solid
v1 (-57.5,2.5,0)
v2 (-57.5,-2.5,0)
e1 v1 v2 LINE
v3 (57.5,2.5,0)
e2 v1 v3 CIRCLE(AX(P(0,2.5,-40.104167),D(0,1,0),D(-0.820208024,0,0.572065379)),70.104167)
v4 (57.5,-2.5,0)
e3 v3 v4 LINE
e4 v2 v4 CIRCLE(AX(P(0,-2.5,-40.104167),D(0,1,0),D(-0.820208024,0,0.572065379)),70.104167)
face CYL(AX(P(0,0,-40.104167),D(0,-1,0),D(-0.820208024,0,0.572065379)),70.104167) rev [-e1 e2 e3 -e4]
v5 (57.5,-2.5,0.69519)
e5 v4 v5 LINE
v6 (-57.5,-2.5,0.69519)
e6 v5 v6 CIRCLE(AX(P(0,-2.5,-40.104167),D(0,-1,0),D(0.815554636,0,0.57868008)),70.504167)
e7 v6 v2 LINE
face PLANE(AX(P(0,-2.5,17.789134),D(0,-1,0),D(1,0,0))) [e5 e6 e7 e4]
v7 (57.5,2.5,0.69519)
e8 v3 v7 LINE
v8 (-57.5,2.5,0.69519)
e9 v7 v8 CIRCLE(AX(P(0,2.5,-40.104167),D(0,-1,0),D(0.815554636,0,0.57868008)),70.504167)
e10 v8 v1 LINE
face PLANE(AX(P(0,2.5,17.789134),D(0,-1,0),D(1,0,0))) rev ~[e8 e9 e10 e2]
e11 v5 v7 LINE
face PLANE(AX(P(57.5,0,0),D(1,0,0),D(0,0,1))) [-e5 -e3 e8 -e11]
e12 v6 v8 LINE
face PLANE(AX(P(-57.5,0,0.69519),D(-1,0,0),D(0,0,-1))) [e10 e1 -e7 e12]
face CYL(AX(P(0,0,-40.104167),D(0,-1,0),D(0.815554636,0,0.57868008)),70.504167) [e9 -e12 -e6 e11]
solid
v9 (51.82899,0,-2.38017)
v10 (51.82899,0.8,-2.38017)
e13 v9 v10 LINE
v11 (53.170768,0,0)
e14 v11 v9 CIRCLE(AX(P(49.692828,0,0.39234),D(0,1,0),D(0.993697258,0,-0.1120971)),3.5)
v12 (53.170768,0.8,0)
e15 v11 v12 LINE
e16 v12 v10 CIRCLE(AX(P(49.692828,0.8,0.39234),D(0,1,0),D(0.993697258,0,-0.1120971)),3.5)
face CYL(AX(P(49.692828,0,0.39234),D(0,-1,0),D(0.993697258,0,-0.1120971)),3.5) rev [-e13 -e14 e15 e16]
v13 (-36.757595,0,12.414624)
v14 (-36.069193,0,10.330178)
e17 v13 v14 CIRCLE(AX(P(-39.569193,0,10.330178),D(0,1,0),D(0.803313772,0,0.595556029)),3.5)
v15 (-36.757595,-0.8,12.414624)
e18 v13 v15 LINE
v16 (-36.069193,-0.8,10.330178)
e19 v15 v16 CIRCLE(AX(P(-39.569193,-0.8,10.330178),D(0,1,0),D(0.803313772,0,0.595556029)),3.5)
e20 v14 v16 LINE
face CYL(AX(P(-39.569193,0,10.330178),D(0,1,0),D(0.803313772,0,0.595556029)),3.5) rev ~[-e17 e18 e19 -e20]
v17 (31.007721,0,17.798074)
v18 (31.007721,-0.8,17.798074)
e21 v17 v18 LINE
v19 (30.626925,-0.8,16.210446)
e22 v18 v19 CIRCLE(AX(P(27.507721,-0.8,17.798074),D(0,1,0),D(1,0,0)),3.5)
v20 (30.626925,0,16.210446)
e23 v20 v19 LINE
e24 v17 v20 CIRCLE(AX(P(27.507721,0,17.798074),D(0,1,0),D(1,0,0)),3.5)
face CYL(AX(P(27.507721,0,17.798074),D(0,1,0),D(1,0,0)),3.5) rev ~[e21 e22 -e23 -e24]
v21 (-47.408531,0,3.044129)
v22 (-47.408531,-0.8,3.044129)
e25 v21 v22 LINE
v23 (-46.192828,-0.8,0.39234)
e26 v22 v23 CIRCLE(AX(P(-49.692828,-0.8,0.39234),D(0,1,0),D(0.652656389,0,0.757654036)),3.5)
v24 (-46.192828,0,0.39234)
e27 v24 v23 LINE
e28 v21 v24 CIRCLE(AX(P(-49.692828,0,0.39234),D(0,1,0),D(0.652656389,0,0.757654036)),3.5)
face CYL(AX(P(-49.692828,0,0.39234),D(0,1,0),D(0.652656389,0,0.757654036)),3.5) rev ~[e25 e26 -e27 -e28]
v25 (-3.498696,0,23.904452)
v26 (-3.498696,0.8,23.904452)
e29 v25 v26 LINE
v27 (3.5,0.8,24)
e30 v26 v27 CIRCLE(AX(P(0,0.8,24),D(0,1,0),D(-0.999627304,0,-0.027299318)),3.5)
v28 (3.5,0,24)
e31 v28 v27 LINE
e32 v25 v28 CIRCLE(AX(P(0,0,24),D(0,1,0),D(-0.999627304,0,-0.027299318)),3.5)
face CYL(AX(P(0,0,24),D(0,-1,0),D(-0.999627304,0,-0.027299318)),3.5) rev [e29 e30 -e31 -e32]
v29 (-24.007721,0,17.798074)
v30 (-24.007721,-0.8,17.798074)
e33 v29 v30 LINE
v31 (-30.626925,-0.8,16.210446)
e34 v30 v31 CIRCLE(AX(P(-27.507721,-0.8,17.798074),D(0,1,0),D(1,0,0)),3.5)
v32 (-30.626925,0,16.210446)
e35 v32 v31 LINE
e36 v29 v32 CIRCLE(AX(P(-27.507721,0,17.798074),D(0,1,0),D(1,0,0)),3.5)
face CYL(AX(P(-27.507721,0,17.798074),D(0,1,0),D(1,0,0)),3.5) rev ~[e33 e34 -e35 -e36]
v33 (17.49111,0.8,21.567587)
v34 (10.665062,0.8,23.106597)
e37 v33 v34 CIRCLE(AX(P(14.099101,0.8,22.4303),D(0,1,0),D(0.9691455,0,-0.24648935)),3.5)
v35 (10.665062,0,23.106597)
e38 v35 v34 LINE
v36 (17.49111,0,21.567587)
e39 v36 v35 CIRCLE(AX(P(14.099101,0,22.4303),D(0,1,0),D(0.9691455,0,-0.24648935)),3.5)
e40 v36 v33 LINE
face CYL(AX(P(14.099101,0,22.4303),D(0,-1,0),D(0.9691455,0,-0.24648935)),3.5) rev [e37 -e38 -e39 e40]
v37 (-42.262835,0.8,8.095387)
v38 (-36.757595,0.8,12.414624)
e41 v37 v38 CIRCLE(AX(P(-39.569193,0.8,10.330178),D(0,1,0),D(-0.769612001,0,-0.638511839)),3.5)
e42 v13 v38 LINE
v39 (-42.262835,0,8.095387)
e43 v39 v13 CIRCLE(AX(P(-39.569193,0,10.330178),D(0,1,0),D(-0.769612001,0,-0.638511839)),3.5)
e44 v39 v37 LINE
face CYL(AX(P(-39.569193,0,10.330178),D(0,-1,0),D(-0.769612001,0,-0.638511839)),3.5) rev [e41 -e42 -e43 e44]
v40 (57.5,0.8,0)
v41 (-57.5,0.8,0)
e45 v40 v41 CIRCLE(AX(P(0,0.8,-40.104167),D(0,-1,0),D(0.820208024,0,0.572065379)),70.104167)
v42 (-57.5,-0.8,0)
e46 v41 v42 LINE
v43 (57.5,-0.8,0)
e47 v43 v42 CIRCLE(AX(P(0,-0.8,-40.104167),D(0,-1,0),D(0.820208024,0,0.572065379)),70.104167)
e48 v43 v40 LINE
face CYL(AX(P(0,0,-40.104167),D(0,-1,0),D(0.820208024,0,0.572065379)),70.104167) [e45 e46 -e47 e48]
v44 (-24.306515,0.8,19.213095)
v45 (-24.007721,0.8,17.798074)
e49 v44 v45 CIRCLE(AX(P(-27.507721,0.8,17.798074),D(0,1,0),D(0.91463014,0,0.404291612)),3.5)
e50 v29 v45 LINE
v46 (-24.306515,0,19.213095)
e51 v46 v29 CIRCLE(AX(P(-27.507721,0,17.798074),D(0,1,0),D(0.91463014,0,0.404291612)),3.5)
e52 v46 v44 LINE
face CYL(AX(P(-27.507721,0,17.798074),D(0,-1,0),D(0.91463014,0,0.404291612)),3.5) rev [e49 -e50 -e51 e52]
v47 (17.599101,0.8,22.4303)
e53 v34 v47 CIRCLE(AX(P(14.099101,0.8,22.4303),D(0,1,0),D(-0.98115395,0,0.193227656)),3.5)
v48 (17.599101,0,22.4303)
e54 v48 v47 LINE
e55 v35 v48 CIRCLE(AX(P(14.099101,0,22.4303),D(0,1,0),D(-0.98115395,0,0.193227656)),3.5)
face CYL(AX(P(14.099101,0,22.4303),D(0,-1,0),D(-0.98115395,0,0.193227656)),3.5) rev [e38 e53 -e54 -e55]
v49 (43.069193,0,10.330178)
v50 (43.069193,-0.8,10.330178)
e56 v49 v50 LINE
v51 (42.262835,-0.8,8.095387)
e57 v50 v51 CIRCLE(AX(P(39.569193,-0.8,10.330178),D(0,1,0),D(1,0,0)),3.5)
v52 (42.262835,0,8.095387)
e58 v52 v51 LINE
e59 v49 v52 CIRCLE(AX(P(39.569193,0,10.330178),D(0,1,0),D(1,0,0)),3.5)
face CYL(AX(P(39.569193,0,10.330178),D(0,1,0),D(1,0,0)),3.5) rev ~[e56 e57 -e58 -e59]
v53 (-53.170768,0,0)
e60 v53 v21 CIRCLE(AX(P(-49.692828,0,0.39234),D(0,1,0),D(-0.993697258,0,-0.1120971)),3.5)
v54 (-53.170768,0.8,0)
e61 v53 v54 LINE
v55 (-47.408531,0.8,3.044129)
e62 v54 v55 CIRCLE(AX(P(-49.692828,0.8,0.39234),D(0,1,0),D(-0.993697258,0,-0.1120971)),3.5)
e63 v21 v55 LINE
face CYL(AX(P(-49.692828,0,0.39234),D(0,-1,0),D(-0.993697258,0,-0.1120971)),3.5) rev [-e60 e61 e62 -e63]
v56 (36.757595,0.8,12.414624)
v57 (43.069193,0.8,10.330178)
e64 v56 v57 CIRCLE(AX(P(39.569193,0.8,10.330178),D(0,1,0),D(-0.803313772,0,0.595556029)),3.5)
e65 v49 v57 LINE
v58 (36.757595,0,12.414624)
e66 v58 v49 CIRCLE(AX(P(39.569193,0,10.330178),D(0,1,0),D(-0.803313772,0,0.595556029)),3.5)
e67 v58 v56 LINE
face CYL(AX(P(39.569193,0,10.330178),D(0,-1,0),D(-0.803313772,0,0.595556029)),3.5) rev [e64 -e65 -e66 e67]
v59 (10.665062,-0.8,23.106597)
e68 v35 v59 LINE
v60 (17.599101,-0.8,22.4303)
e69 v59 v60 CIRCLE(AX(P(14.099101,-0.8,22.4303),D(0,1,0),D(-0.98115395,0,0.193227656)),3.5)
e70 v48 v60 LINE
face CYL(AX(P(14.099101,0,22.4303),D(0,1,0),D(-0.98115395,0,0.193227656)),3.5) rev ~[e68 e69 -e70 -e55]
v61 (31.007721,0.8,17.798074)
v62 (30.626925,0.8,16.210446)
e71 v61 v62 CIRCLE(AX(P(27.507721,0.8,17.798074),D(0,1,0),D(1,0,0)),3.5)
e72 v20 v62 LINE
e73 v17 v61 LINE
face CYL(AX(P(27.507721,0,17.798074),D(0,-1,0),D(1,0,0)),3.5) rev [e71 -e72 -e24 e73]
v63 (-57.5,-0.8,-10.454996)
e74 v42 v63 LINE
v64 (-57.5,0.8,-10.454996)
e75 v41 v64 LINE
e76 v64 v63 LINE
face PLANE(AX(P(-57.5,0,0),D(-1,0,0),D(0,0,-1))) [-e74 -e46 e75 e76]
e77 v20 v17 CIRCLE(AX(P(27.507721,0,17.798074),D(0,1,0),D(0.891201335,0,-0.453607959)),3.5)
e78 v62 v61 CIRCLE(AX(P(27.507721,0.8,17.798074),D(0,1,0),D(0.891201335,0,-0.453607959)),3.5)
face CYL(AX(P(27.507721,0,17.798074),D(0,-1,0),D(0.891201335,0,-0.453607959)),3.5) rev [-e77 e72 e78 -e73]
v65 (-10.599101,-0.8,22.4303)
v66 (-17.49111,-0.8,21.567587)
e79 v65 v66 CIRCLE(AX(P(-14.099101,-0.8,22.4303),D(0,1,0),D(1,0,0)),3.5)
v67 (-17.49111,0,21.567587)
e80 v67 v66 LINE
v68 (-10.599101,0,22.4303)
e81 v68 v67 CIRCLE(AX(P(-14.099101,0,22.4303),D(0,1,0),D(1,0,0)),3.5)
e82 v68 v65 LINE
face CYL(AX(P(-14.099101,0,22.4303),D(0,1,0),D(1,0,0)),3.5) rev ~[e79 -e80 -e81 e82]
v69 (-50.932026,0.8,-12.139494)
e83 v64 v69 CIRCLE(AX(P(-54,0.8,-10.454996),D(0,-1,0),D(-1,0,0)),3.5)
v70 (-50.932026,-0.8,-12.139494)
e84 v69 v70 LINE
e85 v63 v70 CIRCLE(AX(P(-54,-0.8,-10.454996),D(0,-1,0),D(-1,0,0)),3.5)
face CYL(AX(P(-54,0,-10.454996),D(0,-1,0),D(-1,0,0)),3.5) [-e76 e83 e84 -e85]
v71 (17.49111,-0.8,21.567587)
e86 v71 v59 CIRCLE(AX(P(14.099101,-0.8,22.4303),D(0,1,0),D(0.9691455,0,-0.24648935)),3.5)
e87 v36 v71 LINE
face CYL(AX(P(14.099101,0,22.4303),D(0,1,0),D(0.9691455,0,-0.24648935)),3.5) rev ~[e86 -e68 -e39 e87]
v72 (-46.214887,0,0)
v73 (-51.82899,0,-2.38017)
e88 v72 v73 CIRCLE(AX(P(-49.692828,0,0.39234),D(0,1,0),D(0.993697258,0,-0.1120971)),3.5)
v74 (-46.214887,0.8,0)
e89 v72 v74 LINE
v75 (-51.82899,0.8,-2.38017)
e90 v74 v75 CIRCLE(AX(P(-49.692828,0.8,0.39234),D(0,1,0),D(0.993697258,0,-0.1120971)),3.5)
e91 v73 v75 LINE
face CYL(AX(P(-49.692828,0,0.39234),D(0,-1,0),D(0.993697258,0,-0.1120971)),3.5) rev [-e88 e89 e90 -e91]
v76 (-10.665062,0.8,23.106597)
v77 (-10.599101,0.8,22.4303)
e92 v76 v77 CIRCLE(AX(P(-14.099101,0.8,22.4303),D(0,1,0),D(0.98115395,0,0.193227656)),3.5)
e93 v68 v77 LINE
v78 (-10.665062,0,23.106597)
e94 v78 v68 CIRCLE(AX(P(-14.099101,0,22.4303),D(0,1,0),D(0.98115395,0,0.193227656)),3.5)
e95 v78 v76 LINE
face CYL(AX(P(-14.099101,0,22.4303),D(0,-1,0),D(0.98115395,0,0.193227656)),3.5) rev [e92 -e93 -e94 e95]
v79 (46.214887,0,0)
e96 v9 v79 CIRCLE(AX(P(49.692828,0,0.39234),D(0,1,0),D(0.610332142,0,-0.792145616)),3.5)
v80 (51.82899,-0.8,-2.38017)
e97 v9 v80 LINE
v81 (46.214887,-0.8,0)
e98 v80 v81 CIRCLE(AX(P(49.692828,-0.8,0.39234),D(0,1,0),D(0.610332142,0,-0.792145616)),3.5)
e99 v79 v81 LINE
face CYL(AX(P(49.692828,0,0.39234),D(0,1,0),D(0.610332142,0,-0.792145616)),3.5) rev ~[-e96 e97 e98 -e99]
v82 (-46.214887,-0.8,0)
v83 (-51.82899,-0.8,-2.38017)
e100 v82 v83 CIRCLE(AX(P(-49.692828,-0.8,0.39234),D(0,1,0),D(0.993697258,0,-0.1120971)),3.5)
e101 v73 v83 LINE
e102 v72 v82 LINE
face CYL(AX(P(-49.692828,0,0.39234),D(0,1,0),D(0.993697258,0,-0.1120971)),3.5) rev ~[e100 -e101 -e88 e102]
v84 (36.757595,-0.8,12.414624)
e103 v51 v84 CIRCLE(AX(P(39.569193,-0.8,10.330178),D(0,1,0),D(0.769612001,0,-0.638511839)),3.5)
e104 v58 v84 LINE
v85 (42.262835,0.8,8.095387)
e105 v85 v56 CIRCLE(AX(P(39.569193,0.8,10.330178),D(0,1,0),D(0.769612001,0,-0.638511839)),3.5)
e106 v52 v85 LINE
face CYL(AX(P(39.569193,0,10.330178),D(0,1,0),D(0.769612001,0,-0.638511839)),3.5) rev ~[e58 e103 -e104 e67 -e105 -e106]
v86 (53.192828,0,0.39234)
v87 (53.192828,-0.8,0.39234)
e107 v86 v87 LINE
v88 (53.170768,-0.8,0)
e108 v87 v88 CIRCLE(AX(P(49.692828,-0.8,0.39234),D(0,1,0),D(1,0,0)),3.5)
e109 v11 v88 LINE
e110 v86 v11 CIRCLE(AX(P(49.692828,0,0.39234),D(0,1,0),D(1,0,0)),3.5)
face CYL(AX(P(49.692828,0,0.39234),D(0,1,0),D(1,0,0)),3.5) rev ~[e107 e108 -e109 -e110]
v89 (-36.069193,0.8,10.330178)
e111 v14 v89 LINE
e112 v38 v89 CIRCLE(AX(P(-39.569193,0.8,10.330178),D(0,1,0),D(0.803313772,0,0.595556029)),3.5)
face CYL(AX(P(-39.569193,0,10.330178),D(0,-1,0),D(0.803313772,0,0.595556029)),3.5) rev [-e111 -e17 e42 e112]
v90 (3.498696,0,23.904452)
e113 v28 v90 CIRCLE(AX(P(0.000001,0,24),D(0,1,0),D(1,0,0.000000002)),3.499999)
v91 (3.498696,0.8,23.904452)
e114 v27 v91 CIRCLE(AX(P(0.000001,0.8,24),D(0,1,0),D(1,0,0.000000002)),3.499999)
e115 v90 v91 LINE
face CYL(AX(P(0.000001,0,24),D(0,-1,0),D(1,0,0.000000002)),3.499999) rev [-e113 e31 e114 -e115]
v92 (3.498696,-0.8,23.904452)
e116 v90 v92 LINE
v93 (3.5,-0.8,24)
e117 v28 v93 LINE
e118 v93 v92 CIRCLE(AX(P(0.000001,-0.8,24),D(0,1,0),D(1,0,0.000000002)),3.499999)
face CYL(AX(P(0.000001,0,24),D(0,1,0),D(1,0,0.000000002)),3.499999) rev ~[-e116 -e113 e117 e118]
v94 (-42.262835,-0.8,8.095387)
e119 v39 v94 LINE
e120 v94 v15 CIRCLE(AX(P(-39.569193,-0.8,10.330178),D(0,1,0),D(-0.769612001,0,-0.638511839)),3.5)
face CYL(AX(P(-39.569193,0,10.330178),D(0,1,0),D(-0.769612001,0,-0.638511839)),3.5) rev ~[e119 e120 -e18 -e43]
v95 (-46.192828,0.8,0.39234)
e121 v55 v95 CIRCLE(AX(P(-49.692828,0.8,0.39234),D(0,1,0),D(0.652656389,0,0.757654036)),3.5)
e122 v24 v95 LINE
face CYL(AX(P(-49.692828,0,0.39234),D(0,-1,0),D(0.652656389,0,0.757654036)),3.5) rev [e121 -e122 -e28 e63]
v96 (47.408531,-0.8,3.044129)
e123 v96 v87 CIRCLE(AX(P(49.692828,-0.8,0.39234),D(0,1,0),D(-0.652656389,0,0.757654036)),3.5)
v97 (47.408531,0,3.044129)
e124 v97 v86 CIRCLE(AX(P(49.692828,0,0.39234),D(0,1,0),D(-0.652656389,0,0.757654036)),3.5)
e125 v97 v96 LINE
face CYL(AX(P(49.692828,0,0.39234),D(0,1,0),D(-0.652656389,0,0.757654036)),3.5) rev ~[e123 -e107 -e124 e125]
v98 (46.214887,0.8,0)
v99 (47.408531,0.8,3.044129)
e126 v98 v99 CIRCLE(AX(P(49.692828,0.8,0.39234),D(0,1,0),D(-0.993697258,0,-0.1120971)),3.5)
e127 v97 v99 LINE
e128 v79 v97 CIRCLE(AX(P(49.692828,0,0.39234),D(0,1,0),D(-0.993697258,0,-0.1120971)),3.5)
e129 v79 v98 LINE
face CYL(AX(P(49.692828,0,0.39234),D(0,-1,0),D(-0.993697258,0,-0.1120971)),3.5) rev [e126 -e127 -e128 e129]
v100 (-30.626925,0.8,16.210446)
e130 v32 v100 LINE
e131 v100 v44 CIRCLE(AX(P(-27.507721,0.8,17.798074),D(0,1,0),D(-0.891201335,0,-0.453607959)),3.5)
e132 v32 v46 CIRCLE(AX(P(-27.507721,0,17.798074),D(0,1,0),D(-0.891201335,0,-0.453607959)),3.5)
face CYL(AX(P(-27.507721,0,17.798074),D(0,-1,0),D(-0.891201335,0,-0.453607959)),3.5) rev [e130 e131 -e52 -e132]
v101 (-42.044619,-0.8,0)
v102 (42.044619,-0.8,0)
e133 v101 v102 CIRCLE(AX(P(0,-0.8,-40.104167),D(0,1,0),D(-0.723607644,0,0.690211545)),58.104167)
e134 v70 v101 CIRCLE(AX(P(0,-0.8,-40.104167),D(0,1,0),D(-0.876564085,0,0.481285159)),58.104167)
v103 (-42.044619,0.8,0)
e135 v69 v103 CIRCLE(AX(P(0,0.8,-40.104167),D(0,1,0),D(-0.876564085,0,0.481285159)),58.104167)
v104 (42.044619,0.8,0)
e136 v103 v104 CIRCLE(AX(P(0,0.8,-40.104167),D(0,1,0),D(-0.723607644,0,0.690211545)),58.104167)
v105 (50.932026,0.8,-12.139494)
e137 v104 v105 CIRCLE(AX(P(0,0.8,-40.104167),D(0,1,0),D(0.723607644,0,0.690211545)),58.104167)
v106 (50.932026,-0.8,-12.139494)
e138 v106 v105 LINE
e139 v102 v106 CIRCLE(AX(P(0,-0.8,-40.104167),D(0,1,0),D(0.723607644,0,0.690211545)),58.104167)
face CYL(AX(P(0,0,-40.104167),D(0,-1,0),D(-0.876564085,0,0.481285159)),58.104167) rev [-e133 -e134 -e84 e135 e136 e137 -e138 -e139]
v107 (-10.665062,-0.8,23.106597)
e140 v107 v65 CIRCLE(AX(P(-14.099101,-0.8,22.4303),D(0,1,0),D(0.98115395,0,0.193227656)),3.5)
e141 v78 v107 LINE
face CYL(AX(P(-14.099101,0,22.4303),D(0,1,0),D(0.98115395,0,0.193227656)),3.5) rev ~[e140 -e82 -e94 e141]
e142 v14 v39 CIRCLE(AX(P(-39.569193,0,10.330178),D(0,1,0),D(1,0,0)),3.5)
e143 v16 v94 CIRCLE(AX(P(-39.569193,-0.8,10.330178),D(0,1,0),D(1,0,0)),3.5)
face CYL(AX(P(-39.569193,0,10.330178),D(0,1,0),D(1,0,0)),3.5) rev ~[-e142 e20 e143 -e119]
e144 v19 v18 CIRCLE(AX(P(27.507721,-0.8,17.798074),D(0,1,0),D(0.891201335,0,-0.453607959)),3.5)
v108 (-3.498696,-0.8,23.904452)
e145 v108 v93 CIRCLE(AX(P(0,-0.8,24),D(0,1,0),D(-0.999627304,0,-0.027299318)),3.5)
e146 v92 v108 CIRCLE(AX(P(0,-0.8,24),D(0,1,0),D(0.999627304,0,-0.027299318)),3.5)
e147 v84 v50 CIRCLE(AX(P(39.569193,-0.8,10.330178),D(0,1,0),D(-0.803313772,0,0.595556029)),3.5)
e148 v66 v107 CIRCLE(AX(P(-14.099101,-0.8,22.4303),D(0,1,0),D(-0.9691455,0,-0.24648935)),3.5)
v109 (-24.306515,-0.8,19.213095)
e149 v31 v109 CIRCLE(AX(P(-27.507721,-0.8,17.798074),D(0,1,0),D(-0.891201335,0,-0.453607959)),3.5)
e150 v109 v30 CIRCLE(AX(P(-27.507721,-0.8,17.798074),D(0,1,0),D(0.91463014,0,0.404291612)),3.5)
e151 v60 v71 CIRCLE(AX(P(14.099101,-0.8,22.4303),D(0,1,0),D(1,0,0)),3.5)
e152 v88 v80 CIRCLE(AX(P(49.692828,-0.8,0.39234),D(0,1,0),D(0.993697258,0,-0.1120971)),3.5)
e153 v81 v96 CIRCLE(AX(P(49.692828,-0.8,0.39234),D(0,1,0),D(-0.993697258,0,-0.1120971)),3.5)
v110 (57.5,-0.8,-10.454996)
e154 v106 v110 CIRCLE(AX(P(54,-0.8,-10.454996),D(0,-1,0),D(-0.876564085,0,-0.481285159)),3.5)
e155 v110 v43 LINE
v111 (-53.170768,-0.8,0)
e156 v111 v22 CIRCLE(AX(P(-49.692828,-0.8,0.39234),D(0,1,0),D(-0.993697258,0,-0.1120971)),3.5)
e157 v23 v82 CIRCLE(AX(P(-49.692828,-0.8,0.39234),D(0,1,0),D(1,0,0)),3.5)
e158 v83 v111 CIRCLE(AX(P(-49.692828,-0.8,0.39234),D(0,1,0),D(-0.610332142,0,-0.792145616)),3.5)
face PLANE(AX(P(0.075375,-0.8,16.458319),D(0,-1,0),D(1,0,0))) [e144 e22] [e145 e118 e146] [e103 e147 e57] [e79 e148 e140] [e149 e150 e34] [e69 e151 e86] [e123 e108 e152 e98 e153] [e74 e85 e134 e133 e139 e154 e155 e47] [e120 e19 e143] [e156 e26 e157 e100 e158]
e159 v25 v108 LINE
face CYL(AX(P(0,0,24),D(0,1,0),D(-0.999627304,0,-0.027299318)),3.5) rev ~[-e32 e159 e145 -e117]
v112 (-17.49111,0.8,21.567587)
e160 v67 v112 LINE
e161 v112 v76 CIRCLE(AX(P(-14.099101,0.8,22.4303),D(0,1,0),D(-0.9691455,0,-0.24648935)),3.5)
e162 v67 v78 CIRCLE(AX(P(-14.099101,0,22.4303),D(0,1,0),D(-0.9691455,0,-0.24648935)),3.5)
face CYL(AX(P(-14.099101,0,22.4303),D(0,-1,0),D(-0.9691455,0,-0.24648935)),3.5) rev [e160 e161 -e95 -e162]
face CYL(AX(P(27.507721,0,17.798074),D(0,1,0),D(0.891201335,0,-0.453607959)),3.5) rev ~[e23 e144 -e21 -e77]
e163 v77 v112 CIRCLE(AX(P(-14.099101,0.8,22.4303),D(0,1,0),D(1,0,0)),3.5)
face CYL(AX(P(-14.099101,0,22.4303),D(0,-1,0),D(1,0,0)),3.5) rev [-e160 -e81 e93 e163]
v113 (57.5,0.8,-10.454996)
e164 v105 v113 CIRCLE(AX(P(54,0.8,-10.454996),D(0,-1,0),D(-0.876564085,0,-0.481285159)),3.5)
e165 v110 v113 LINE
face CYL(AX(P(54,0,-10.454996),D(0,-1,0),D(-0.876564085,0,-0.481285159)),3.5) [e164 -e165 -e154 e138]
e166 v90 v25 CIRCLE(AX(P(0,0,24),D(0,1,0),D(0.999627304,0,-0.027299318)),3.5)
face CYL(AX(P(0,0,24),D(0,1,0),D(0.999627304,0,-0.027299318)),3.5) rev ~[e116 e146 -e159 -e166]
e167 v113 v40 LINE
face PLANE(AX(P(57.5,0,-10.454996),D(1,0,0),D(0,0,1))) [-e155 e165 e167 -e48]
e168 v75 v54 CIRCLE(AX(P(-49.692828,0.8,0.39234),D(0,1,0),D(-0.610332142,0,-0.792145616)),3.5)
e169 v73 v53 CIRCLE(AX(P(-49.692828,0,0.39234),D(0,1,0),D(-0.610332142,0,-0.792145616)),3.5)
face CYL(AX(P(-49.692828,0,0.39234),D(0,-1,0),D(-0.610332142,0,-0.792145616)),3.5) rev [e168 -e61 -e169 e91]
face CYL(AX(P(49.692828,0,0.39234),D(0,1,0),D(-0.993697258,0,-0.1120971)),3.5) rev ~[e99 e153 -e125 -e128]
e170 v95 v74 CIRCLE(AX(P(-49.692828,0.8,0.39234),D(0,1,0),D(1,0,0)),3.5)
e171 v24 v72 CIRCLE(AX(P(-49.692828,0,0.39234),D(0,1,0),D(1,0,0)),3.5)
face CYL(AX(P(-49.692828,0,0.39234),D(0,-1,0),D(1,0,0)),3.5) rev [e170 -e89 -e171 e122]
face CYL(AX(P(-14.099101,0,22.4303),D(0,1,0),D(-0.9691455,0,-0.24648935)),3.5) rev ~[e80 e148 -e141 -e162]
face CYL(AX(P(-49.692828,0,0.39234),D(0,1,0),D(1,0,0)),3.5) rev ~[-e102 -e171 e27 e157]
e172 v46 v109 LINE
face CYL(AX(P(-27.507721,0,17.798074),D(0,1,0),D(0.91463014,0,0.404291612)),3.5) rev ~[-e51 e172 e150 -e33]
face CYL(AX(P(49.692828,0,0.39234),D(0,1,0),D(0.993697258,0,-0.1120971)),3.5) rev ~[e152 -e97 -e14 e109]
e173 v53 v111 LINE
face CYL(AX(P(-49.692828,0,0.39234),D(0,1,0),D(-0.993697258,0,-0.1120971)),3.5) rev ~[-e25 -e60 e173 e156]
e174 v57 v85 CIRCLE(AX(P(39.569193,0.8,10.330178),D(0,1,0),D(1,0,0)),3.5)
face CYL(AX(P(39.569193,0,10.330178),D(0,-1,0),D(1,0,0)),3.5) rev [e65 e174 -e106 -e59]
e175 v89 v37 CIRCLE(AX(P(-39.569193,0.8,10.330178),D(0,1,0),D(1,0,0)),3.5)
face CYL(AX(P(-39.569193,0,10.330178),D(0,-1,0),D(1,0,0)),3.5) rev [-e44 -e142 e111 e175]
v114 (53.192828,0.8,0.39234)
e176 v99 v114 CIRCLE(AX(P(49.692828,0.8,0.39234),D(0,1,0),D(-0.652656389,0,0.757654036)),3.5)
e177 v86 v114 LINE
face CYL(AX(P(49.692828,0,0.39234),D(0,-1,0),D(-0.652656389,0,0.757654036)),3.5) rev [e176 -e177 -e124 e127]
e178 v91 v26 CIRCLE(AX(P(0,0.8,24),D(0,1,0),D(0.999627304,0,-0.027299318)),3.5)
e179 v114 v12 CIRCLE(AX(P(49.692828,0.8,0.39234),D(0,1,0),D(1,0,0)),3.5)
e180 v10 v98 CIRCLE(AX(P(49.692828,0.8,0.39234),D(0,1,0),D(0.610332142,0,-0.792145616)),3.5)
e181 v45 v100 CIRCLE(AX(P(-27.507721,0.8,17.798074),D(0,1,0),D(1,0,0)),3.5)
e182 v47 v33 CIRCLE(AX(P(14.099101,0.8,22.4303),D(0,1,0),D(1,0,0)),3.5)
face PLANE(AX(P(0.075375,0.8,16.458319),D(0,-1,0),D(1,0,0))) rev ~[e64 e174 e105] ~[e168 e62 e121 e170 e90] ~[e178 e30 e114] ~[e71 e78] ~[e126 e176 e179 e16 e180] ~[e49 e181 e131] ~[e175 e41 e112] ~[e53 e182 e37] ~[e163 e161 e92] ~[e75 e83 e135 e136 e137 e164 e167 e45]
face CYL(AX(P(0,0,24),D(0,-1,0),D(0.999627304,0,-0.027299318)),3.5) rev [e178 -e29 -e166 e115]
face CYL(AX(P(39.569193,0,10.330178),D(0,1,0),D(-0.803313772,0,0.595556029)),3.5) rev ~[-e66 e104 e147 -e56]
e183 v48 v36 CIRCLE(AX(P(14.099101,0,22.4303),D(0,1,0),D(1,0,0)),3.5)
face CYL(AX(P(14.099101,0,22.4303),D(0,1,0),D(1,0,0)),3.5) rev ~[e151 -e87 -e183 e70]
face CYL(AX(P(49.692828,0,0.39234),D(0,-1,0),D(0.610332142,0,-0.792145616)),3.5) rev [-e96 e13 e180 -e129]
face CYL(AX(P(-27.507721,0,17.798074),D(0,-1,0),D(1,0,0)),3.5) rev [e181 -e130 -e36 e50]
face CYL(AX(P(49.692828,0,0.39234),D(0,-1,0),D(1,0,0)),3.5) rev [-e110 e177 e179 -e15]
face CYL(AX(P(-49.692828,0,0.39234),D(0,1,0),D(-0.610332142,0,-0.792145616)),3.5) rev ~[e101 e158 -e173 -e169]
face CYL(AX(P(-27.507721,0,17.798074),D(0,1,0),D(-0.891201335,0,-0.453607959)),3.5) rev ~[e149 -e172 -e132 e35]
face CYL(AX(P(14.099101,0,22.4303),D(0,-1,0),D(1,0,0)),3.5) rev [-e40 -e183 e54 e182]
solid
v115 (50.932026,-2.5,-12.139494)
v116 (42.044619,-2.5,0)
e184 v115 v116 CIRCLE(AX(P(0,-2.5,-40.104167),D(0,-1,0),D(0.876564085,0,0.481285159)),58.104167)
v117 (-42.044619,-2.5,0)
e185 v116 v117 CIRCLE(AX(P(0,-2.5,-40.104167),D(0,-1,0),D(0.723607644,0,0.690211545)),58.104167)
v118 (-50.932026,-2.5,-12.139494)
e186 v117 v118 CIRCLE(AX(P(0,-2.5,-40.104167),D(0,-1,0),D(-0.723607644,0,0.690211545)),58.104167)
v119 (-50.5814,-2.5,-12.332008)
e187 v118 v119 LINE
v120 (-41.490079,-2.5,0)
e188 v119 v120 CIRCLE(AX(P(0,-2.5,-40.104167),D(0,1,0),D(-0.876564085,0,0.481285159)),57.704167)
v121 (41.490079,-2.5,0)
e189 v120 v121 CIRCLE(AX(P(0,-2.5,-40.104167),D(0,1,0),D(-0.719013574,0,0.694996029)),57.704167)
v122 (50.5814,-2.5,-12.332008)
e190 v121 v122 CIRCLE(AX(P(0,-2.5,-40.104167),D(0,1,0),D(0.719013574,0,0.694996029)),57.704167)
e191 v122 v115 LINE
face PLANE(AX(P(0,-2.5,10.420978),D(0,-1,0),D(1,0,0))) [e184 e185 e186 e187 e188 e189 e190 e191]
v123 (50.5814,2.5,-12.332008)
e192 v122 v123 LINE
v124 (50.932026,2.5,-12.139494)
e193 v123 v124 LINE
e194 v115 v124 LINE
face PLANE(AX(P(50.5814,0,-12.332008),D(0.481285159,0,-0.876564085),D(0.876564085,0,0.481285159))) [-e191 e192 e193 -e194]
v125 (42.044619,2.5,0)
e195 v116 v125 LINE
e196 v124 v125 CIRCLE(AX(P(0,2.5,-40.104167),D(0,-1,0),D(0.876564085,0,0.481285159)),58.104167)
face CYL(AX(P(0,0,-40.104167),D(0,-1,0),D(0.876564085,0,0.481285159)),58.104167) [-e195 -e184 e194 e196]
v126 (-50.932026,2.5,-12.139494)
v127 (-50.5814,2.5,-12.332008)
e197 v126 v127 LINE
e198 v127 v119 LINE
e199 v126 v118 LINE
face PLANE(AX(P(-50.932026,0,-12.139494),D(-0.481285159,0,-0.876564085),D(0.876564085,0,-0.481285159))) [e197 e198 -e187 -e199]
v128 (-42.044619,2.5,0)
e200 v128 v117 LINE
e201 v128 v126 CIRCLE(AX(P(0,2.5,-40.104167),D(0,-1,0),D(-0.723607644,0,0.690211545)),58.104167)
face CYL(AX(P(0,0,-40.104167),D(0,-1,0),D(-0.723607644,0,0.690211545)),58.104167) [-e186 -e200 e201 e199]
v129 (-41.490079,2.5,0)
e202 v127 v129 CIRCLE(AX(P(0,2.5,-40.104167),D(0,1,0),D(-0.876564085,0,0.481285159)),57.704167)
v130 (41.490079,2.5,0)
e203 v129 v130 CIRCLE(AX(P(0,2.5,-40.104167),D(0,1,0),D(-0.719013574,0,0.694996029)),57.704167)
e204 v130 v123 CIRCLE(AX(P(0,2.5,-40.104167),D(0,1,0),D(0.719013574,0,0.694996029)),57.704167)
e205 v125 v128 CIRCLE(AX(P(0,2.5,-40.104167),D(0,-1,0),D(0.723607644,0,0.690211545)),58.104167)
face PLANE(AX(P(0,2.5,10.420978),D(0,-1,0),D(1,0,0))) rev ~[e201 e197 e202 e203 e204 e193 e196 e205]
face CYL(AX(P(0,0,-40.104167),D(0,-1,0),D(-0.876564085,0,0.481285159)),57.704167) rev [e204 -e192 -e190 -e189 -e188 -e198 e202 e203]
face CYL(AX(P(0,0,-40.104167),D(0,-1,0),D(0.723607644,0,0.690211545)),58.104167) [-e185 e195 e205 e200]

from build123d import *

# Parameters (mm, degrees)
F1_DEPTH = 0.8
F2_DEPTH = 2.5
F3_DEPTH = 2.5


with BuildPart() as f1:
    # F0 (on Front) → F1 (new body, symmetric)
    with BuildSketch(Plane.XZ):
        with BuildLine():
            ThreePointArc((57.5, 0), (0, 30), (-57.5, 0))
            Line((-57.5, 0), (-53.1707682947, 0))
            ThreePointArc((-53.1707682947, 0), (-51.3277212324, 3.4870326892), (-47.4085305315, 3.044128976))
            ThreePointArc((-47.4085305315, 3.044128976), (-44.9067619438, 5.6421655989), (-42.2628354131, 8.0953865146))
            ThreePointArc((-42.2628354131, 8.0953865146), (-41.7296173597, 13.0838243248), (-36.7575952083, 12.4146240518))
            ThreePointArc((-36.7575952083, 12.4146240518), (-33.7456732845, 14.3988031479), (-30.6269252328, 16.2104463109))
            ThreePointArc((-30.6269252328, 16.2104463109), (-29.0096045557, 20.9594574824), (-24.3065150716, 19.2130948101))
            ThreePointArc((-24.3065150716, 19.2130948101), (-20.9319439017, 20.4862443612), (-17.4911100586, 21.5675874266))
            ThreePointArc((-17.4911100586, 21.5675874266), (-14.868892468, 25.8445966839), (-10.6650619849, 23.1065969491))
            ThreePointArc((-10.6650619849, 23.1065969491), (-7.0931058293, 23.6063664791), (-3.4986955646, 23.9044523887))
            ThreePointArc((-3.4986955646, 23.9044523887), (-0.0477782576, 27.499673876), (3.5, 24))
            ThreePointArc((3.5, 24), (3.499673876, 23.9522217424), (3.4986955646, 23.9044523887))
            ThreePointArc((3.4986955646, 23.9044523887), (7.0931058293, 23.6063664791), (10.6650619849, 23.1065969491))
            ThreePointArc((10.6650619849, 23.1065969491), (14.4388537458, 25.9137708277), (17.5991008087, 22.430300153))
            ThreePointArc((17.5991008087, 22.430300153), (17.5719981851, 21.9955774683), (17.4911100586, 21.5675874266))
            ThreePointArc((17.4911100586, 21.5675874266), (20.9319439017, 20.4862443612), (24.3065150716, 19.2130948101))
            ThreePointArc((24.3065150716, 19.2130948101), (28.2308321663, 21.2225609326), (31.0077205603, 17.7980741674))
            ThreePointArc((31.0077205603, 17.7980741674), (30.9111905802, 16.9817459105), (30.6269252328, 16.2104463109))
            ThreePointArc((30.6269252328, 16.2104463109), (33.7456732845, 14.3988031479), (36.7575952083, 12.4146240518))
            ThreePointArc((36.7575952083, 12.4146240518), (40.6667831089, 13.6536244822), (43.0691934101, 10.3301779499))
            ThreePointArc((43.0691934101, 10.3301779499), (42.8614378581, 9.1422694961), (42.2628354131, 8.0953865146))
            ThreePointArc((42.2628354131, 8.0953865146), (44.9067619438, 5.6421655989), (47.4085305315, 3.044128976))
            ThreePointArc((47.4085305315, 3.044128976), (51.1514161203, 3.5739307074), (53.1928278924, 0.3923398504))
            ThreePointArc((53.1928278924, 0.3923398504), (53.1873086412, 0.1958600906), (53.1707682947, 0))
            Line((53.1707682947, 0), (57.5, 0))
        make_face()
        with BuildLine():
            ThreePointArc((-42.2628354131, 8.0953865146), (-44.9067619438, 5.6421655989), (-47.4085305315, 3.044128976))
            ThreePointArc((-47.4085305315, 3.044128976), (-46.5112370354, 1.8509280782), (-46.1928278924, 0.3923398504))
            ThreePointArc((-46.1928278924, 0.3923398504), (-46.1983471436, 0.1958600906), (-46.2148874901, 0))
            Line((-46.2148874901, 0), (-42.0446191563, 0))
            ThreePointArc((-42.0446191563, 0), (0, 18), (42.0446191563, 0))
            Line((42.0446191563, 0), (46.2148874901, 0))
            ThreePointArc((46.2148874901, 0), (46.4343733023, 1.6700227862), (47.4085305315, 3.044128976))
            ThreePointArc((47.4085305315, 3.044128976), (44.9067619438, 5.6421655989), (42.2628354131, 8.0953865146))
            ThreePointArc((42.2628354131, 8.0953865146), (37.4087694605, 7.576531575), (36.7575952083, 12.4146240518))
            ThreePointArc((36.7575952083, 12.4146240518), (33.7456732845, 14.3988031479), (30.6269252328, 16.2104463109))
            ThreePointArc((30.6269252328, 16.2104463109), (26.0058365648, 14.6366908524), (24.3065150716, 19.2130948101))
            ThreePointArc((24.3065150716, 19.2130948101), (20.9319439017, 20.4862443612), (17.4911100586, 21.5675874266))
            ThreePointArc((17.4911100586, 21.5675874266), (13.3293091493, 19.016003622), (10.6650619849, 23.1065969491))
            ThreePointArc((10.6650619849, 23.1065969491), (7.0931058293, 23.6063664791), (3.4986955646, 23.9044523887))
            ThreePointArc((3.4986955646, 23.9044523887), (0, 20.5), (-3.4986955646, 23.9044523887))
            ThreePointArc((-3.4986955646, 23.9044523887), (-7.0931058293, 23.6063664791), (-10.6650619849, 23.1065969491))
            ThreePointArc((-10.6650619849, 23.1065969491), (-10.615630134, 22.7700530901), (-10.5991008087, 22.430300153))
            ThreePointArc((-10.5991008087, 22.430300153), (-13.664378124, 18.9574027765), (-17.4911100586, 21.5675874266))
            ThreePointArc((-17.4911100586, 21.5675874266), (-20.9319439017, 20.4862443612), (-24.3065150716, 19.2130948101))
            ThreePointArc((-24.3065150716, 19.2130948101), (-24.083233795, 18.5211857735), (-24.0077205603, 17.7980741674))
            ThreePointArc((-24.0077205603, 17.7980741674), (-26.6913923033, 14.3946041474), (-30.6269252328, 16.2104463109))
            ThreePointArc((-30.6269252328, 16.2104463109), (-33.7456732845, 14.3988031479), (-36.7575952083, 12.4146240518))
            ThreePointArc((-36.7575952083, 12.4146240518), (-36.2457468778, 11.4277676487), (-36.0691934101, 10.3301779499))
            ThreePointArc((-36.0691934101, 10.3301779499), (-38.3812849563, 7.0379335019), (-42.2628354131, 8.0953865146))
        make_face()
        with BuildLine():
            Line((57.5, -10.454995503), (57.5, 0))
            Line((57.5, 0), (53.1707682947, 0))
            ThreePointArc((53.1707682947, 0), (52.7417358798, -1.3264271742), (51.8289903893, -2.3801698046))
            ThreePointArc((51.8289903893, -2.3801698046), (48.3266675572, -2.8300204551), (46.2148874901, 0))
            Line((46.2148874901, 0), (42.0446191563, 0))
            ThreePointArc((42.0446191563, 0), (46.8828961162, -5.7808766759), (50.9320257017, -12.1394935603))
            ThreePointArc((50.9320257017, -12.1394935603), (54.8695084692, -13.845269094), (57.5, -10.454995503))
        make_face()
        with BuildLine():
            Line((-53.1707682947, 0), (-57.5, 0))
            Line((-57.5, 0), (-57.5, -10.454995503))
            ThreePointArc((-57.5, -10.454995503), (-54.8695084692, -13.845269094), (-50.9320257017, -12.1394935603))
            ThreePointArc((-50.9320257017, -12.1394935603), (-46.8828961162, -5.7808766759), (-42.0446191563, 0))
            Line((-42.0446191563, 0), (-46.2148874901, 0))
            ThreePointArc((-46.2148874901, 0), (-48.3266675572, -2.8300204551), (-51.8289903893, -2.3801698046))
            ThreePointArc((-51.8289903893, -2.3801698046), (-52.7417358798, -1.3264271742), (-53.1707682947, 0))
        make_face()
    extrude(amount=F1_DEPTH, both=True)


with BuildPart() as f2:
    # F0 (on Front) → F2 (new body, symmetric)
    with BuildSketch(Plane.XZ):
        with BuildLine():
            Line((-57.5, 0.6951901587), (-57.5, 0))
            ThreePointArc((-57.5, 0), (0, 30), (57.5, 0))
            Line((57.5, 0), (57.5, 0.6951901587))
            ThreePointArc((57.5, 0.6951901587), (0, 30.4), (-57.5, 0.6951901587))
        make_face()
    extrude(amount=F2_DEPTH, both=True)


with BuildPart() as f3:
    # F0 (on Front) → F3 (new body, symmetric)
    with BuildSketch(Plane.XZ):
        with BuildLine():
            ThreePointArc((42.0446191563, 0), (0, 18), (-42.0446191563, 0))
            Line((-42.0446191563, 0), (-41.4900791355, 0))
            ThreePointArc((-41.4900791355, 0), (0, 17.6), (41.4900791355, 0))
            Line((41.4900791355, 0), (42.0446191563, 0))
        make_face()
        with BuildLine():
            Line((50.5814000676, -12.332007624), (50.9320257017, -12.1394935603))
            ThreePointArc((50.9320257017, -12.1394935603), (46.8828961162, -5.7808766759), (42.0446191563, 0))
            Line((42.0446191563, 0), (41.4900791355, 0))
            ThreePointArc((41.4900791355, 0), (46.4468397598, -5.8629352778), (50.5814000676, -12.332007624))
        make_face()
        with BuildLine():
            ThreePointArc((-42.0446191563, 0), (-46.8828961162, -5.7808766759), (-50.9320257017, -12.1394935603))
            Line((-50.9320257017, -12.1394935603), (-50.5814000676, -12.332007624))
            ThreePointArc((-50.5814000676, -12.332007624), (-46.4468397598, -5.8629352778), (-41.4900791355, 0))
            Line((-41.4900791355, 0), (-42.0446191563, 0))
        make_face()
    extrude(amount=F3_DEPTH, both=True)


solid = Compound([f1.part, f2.part, f3.part])
